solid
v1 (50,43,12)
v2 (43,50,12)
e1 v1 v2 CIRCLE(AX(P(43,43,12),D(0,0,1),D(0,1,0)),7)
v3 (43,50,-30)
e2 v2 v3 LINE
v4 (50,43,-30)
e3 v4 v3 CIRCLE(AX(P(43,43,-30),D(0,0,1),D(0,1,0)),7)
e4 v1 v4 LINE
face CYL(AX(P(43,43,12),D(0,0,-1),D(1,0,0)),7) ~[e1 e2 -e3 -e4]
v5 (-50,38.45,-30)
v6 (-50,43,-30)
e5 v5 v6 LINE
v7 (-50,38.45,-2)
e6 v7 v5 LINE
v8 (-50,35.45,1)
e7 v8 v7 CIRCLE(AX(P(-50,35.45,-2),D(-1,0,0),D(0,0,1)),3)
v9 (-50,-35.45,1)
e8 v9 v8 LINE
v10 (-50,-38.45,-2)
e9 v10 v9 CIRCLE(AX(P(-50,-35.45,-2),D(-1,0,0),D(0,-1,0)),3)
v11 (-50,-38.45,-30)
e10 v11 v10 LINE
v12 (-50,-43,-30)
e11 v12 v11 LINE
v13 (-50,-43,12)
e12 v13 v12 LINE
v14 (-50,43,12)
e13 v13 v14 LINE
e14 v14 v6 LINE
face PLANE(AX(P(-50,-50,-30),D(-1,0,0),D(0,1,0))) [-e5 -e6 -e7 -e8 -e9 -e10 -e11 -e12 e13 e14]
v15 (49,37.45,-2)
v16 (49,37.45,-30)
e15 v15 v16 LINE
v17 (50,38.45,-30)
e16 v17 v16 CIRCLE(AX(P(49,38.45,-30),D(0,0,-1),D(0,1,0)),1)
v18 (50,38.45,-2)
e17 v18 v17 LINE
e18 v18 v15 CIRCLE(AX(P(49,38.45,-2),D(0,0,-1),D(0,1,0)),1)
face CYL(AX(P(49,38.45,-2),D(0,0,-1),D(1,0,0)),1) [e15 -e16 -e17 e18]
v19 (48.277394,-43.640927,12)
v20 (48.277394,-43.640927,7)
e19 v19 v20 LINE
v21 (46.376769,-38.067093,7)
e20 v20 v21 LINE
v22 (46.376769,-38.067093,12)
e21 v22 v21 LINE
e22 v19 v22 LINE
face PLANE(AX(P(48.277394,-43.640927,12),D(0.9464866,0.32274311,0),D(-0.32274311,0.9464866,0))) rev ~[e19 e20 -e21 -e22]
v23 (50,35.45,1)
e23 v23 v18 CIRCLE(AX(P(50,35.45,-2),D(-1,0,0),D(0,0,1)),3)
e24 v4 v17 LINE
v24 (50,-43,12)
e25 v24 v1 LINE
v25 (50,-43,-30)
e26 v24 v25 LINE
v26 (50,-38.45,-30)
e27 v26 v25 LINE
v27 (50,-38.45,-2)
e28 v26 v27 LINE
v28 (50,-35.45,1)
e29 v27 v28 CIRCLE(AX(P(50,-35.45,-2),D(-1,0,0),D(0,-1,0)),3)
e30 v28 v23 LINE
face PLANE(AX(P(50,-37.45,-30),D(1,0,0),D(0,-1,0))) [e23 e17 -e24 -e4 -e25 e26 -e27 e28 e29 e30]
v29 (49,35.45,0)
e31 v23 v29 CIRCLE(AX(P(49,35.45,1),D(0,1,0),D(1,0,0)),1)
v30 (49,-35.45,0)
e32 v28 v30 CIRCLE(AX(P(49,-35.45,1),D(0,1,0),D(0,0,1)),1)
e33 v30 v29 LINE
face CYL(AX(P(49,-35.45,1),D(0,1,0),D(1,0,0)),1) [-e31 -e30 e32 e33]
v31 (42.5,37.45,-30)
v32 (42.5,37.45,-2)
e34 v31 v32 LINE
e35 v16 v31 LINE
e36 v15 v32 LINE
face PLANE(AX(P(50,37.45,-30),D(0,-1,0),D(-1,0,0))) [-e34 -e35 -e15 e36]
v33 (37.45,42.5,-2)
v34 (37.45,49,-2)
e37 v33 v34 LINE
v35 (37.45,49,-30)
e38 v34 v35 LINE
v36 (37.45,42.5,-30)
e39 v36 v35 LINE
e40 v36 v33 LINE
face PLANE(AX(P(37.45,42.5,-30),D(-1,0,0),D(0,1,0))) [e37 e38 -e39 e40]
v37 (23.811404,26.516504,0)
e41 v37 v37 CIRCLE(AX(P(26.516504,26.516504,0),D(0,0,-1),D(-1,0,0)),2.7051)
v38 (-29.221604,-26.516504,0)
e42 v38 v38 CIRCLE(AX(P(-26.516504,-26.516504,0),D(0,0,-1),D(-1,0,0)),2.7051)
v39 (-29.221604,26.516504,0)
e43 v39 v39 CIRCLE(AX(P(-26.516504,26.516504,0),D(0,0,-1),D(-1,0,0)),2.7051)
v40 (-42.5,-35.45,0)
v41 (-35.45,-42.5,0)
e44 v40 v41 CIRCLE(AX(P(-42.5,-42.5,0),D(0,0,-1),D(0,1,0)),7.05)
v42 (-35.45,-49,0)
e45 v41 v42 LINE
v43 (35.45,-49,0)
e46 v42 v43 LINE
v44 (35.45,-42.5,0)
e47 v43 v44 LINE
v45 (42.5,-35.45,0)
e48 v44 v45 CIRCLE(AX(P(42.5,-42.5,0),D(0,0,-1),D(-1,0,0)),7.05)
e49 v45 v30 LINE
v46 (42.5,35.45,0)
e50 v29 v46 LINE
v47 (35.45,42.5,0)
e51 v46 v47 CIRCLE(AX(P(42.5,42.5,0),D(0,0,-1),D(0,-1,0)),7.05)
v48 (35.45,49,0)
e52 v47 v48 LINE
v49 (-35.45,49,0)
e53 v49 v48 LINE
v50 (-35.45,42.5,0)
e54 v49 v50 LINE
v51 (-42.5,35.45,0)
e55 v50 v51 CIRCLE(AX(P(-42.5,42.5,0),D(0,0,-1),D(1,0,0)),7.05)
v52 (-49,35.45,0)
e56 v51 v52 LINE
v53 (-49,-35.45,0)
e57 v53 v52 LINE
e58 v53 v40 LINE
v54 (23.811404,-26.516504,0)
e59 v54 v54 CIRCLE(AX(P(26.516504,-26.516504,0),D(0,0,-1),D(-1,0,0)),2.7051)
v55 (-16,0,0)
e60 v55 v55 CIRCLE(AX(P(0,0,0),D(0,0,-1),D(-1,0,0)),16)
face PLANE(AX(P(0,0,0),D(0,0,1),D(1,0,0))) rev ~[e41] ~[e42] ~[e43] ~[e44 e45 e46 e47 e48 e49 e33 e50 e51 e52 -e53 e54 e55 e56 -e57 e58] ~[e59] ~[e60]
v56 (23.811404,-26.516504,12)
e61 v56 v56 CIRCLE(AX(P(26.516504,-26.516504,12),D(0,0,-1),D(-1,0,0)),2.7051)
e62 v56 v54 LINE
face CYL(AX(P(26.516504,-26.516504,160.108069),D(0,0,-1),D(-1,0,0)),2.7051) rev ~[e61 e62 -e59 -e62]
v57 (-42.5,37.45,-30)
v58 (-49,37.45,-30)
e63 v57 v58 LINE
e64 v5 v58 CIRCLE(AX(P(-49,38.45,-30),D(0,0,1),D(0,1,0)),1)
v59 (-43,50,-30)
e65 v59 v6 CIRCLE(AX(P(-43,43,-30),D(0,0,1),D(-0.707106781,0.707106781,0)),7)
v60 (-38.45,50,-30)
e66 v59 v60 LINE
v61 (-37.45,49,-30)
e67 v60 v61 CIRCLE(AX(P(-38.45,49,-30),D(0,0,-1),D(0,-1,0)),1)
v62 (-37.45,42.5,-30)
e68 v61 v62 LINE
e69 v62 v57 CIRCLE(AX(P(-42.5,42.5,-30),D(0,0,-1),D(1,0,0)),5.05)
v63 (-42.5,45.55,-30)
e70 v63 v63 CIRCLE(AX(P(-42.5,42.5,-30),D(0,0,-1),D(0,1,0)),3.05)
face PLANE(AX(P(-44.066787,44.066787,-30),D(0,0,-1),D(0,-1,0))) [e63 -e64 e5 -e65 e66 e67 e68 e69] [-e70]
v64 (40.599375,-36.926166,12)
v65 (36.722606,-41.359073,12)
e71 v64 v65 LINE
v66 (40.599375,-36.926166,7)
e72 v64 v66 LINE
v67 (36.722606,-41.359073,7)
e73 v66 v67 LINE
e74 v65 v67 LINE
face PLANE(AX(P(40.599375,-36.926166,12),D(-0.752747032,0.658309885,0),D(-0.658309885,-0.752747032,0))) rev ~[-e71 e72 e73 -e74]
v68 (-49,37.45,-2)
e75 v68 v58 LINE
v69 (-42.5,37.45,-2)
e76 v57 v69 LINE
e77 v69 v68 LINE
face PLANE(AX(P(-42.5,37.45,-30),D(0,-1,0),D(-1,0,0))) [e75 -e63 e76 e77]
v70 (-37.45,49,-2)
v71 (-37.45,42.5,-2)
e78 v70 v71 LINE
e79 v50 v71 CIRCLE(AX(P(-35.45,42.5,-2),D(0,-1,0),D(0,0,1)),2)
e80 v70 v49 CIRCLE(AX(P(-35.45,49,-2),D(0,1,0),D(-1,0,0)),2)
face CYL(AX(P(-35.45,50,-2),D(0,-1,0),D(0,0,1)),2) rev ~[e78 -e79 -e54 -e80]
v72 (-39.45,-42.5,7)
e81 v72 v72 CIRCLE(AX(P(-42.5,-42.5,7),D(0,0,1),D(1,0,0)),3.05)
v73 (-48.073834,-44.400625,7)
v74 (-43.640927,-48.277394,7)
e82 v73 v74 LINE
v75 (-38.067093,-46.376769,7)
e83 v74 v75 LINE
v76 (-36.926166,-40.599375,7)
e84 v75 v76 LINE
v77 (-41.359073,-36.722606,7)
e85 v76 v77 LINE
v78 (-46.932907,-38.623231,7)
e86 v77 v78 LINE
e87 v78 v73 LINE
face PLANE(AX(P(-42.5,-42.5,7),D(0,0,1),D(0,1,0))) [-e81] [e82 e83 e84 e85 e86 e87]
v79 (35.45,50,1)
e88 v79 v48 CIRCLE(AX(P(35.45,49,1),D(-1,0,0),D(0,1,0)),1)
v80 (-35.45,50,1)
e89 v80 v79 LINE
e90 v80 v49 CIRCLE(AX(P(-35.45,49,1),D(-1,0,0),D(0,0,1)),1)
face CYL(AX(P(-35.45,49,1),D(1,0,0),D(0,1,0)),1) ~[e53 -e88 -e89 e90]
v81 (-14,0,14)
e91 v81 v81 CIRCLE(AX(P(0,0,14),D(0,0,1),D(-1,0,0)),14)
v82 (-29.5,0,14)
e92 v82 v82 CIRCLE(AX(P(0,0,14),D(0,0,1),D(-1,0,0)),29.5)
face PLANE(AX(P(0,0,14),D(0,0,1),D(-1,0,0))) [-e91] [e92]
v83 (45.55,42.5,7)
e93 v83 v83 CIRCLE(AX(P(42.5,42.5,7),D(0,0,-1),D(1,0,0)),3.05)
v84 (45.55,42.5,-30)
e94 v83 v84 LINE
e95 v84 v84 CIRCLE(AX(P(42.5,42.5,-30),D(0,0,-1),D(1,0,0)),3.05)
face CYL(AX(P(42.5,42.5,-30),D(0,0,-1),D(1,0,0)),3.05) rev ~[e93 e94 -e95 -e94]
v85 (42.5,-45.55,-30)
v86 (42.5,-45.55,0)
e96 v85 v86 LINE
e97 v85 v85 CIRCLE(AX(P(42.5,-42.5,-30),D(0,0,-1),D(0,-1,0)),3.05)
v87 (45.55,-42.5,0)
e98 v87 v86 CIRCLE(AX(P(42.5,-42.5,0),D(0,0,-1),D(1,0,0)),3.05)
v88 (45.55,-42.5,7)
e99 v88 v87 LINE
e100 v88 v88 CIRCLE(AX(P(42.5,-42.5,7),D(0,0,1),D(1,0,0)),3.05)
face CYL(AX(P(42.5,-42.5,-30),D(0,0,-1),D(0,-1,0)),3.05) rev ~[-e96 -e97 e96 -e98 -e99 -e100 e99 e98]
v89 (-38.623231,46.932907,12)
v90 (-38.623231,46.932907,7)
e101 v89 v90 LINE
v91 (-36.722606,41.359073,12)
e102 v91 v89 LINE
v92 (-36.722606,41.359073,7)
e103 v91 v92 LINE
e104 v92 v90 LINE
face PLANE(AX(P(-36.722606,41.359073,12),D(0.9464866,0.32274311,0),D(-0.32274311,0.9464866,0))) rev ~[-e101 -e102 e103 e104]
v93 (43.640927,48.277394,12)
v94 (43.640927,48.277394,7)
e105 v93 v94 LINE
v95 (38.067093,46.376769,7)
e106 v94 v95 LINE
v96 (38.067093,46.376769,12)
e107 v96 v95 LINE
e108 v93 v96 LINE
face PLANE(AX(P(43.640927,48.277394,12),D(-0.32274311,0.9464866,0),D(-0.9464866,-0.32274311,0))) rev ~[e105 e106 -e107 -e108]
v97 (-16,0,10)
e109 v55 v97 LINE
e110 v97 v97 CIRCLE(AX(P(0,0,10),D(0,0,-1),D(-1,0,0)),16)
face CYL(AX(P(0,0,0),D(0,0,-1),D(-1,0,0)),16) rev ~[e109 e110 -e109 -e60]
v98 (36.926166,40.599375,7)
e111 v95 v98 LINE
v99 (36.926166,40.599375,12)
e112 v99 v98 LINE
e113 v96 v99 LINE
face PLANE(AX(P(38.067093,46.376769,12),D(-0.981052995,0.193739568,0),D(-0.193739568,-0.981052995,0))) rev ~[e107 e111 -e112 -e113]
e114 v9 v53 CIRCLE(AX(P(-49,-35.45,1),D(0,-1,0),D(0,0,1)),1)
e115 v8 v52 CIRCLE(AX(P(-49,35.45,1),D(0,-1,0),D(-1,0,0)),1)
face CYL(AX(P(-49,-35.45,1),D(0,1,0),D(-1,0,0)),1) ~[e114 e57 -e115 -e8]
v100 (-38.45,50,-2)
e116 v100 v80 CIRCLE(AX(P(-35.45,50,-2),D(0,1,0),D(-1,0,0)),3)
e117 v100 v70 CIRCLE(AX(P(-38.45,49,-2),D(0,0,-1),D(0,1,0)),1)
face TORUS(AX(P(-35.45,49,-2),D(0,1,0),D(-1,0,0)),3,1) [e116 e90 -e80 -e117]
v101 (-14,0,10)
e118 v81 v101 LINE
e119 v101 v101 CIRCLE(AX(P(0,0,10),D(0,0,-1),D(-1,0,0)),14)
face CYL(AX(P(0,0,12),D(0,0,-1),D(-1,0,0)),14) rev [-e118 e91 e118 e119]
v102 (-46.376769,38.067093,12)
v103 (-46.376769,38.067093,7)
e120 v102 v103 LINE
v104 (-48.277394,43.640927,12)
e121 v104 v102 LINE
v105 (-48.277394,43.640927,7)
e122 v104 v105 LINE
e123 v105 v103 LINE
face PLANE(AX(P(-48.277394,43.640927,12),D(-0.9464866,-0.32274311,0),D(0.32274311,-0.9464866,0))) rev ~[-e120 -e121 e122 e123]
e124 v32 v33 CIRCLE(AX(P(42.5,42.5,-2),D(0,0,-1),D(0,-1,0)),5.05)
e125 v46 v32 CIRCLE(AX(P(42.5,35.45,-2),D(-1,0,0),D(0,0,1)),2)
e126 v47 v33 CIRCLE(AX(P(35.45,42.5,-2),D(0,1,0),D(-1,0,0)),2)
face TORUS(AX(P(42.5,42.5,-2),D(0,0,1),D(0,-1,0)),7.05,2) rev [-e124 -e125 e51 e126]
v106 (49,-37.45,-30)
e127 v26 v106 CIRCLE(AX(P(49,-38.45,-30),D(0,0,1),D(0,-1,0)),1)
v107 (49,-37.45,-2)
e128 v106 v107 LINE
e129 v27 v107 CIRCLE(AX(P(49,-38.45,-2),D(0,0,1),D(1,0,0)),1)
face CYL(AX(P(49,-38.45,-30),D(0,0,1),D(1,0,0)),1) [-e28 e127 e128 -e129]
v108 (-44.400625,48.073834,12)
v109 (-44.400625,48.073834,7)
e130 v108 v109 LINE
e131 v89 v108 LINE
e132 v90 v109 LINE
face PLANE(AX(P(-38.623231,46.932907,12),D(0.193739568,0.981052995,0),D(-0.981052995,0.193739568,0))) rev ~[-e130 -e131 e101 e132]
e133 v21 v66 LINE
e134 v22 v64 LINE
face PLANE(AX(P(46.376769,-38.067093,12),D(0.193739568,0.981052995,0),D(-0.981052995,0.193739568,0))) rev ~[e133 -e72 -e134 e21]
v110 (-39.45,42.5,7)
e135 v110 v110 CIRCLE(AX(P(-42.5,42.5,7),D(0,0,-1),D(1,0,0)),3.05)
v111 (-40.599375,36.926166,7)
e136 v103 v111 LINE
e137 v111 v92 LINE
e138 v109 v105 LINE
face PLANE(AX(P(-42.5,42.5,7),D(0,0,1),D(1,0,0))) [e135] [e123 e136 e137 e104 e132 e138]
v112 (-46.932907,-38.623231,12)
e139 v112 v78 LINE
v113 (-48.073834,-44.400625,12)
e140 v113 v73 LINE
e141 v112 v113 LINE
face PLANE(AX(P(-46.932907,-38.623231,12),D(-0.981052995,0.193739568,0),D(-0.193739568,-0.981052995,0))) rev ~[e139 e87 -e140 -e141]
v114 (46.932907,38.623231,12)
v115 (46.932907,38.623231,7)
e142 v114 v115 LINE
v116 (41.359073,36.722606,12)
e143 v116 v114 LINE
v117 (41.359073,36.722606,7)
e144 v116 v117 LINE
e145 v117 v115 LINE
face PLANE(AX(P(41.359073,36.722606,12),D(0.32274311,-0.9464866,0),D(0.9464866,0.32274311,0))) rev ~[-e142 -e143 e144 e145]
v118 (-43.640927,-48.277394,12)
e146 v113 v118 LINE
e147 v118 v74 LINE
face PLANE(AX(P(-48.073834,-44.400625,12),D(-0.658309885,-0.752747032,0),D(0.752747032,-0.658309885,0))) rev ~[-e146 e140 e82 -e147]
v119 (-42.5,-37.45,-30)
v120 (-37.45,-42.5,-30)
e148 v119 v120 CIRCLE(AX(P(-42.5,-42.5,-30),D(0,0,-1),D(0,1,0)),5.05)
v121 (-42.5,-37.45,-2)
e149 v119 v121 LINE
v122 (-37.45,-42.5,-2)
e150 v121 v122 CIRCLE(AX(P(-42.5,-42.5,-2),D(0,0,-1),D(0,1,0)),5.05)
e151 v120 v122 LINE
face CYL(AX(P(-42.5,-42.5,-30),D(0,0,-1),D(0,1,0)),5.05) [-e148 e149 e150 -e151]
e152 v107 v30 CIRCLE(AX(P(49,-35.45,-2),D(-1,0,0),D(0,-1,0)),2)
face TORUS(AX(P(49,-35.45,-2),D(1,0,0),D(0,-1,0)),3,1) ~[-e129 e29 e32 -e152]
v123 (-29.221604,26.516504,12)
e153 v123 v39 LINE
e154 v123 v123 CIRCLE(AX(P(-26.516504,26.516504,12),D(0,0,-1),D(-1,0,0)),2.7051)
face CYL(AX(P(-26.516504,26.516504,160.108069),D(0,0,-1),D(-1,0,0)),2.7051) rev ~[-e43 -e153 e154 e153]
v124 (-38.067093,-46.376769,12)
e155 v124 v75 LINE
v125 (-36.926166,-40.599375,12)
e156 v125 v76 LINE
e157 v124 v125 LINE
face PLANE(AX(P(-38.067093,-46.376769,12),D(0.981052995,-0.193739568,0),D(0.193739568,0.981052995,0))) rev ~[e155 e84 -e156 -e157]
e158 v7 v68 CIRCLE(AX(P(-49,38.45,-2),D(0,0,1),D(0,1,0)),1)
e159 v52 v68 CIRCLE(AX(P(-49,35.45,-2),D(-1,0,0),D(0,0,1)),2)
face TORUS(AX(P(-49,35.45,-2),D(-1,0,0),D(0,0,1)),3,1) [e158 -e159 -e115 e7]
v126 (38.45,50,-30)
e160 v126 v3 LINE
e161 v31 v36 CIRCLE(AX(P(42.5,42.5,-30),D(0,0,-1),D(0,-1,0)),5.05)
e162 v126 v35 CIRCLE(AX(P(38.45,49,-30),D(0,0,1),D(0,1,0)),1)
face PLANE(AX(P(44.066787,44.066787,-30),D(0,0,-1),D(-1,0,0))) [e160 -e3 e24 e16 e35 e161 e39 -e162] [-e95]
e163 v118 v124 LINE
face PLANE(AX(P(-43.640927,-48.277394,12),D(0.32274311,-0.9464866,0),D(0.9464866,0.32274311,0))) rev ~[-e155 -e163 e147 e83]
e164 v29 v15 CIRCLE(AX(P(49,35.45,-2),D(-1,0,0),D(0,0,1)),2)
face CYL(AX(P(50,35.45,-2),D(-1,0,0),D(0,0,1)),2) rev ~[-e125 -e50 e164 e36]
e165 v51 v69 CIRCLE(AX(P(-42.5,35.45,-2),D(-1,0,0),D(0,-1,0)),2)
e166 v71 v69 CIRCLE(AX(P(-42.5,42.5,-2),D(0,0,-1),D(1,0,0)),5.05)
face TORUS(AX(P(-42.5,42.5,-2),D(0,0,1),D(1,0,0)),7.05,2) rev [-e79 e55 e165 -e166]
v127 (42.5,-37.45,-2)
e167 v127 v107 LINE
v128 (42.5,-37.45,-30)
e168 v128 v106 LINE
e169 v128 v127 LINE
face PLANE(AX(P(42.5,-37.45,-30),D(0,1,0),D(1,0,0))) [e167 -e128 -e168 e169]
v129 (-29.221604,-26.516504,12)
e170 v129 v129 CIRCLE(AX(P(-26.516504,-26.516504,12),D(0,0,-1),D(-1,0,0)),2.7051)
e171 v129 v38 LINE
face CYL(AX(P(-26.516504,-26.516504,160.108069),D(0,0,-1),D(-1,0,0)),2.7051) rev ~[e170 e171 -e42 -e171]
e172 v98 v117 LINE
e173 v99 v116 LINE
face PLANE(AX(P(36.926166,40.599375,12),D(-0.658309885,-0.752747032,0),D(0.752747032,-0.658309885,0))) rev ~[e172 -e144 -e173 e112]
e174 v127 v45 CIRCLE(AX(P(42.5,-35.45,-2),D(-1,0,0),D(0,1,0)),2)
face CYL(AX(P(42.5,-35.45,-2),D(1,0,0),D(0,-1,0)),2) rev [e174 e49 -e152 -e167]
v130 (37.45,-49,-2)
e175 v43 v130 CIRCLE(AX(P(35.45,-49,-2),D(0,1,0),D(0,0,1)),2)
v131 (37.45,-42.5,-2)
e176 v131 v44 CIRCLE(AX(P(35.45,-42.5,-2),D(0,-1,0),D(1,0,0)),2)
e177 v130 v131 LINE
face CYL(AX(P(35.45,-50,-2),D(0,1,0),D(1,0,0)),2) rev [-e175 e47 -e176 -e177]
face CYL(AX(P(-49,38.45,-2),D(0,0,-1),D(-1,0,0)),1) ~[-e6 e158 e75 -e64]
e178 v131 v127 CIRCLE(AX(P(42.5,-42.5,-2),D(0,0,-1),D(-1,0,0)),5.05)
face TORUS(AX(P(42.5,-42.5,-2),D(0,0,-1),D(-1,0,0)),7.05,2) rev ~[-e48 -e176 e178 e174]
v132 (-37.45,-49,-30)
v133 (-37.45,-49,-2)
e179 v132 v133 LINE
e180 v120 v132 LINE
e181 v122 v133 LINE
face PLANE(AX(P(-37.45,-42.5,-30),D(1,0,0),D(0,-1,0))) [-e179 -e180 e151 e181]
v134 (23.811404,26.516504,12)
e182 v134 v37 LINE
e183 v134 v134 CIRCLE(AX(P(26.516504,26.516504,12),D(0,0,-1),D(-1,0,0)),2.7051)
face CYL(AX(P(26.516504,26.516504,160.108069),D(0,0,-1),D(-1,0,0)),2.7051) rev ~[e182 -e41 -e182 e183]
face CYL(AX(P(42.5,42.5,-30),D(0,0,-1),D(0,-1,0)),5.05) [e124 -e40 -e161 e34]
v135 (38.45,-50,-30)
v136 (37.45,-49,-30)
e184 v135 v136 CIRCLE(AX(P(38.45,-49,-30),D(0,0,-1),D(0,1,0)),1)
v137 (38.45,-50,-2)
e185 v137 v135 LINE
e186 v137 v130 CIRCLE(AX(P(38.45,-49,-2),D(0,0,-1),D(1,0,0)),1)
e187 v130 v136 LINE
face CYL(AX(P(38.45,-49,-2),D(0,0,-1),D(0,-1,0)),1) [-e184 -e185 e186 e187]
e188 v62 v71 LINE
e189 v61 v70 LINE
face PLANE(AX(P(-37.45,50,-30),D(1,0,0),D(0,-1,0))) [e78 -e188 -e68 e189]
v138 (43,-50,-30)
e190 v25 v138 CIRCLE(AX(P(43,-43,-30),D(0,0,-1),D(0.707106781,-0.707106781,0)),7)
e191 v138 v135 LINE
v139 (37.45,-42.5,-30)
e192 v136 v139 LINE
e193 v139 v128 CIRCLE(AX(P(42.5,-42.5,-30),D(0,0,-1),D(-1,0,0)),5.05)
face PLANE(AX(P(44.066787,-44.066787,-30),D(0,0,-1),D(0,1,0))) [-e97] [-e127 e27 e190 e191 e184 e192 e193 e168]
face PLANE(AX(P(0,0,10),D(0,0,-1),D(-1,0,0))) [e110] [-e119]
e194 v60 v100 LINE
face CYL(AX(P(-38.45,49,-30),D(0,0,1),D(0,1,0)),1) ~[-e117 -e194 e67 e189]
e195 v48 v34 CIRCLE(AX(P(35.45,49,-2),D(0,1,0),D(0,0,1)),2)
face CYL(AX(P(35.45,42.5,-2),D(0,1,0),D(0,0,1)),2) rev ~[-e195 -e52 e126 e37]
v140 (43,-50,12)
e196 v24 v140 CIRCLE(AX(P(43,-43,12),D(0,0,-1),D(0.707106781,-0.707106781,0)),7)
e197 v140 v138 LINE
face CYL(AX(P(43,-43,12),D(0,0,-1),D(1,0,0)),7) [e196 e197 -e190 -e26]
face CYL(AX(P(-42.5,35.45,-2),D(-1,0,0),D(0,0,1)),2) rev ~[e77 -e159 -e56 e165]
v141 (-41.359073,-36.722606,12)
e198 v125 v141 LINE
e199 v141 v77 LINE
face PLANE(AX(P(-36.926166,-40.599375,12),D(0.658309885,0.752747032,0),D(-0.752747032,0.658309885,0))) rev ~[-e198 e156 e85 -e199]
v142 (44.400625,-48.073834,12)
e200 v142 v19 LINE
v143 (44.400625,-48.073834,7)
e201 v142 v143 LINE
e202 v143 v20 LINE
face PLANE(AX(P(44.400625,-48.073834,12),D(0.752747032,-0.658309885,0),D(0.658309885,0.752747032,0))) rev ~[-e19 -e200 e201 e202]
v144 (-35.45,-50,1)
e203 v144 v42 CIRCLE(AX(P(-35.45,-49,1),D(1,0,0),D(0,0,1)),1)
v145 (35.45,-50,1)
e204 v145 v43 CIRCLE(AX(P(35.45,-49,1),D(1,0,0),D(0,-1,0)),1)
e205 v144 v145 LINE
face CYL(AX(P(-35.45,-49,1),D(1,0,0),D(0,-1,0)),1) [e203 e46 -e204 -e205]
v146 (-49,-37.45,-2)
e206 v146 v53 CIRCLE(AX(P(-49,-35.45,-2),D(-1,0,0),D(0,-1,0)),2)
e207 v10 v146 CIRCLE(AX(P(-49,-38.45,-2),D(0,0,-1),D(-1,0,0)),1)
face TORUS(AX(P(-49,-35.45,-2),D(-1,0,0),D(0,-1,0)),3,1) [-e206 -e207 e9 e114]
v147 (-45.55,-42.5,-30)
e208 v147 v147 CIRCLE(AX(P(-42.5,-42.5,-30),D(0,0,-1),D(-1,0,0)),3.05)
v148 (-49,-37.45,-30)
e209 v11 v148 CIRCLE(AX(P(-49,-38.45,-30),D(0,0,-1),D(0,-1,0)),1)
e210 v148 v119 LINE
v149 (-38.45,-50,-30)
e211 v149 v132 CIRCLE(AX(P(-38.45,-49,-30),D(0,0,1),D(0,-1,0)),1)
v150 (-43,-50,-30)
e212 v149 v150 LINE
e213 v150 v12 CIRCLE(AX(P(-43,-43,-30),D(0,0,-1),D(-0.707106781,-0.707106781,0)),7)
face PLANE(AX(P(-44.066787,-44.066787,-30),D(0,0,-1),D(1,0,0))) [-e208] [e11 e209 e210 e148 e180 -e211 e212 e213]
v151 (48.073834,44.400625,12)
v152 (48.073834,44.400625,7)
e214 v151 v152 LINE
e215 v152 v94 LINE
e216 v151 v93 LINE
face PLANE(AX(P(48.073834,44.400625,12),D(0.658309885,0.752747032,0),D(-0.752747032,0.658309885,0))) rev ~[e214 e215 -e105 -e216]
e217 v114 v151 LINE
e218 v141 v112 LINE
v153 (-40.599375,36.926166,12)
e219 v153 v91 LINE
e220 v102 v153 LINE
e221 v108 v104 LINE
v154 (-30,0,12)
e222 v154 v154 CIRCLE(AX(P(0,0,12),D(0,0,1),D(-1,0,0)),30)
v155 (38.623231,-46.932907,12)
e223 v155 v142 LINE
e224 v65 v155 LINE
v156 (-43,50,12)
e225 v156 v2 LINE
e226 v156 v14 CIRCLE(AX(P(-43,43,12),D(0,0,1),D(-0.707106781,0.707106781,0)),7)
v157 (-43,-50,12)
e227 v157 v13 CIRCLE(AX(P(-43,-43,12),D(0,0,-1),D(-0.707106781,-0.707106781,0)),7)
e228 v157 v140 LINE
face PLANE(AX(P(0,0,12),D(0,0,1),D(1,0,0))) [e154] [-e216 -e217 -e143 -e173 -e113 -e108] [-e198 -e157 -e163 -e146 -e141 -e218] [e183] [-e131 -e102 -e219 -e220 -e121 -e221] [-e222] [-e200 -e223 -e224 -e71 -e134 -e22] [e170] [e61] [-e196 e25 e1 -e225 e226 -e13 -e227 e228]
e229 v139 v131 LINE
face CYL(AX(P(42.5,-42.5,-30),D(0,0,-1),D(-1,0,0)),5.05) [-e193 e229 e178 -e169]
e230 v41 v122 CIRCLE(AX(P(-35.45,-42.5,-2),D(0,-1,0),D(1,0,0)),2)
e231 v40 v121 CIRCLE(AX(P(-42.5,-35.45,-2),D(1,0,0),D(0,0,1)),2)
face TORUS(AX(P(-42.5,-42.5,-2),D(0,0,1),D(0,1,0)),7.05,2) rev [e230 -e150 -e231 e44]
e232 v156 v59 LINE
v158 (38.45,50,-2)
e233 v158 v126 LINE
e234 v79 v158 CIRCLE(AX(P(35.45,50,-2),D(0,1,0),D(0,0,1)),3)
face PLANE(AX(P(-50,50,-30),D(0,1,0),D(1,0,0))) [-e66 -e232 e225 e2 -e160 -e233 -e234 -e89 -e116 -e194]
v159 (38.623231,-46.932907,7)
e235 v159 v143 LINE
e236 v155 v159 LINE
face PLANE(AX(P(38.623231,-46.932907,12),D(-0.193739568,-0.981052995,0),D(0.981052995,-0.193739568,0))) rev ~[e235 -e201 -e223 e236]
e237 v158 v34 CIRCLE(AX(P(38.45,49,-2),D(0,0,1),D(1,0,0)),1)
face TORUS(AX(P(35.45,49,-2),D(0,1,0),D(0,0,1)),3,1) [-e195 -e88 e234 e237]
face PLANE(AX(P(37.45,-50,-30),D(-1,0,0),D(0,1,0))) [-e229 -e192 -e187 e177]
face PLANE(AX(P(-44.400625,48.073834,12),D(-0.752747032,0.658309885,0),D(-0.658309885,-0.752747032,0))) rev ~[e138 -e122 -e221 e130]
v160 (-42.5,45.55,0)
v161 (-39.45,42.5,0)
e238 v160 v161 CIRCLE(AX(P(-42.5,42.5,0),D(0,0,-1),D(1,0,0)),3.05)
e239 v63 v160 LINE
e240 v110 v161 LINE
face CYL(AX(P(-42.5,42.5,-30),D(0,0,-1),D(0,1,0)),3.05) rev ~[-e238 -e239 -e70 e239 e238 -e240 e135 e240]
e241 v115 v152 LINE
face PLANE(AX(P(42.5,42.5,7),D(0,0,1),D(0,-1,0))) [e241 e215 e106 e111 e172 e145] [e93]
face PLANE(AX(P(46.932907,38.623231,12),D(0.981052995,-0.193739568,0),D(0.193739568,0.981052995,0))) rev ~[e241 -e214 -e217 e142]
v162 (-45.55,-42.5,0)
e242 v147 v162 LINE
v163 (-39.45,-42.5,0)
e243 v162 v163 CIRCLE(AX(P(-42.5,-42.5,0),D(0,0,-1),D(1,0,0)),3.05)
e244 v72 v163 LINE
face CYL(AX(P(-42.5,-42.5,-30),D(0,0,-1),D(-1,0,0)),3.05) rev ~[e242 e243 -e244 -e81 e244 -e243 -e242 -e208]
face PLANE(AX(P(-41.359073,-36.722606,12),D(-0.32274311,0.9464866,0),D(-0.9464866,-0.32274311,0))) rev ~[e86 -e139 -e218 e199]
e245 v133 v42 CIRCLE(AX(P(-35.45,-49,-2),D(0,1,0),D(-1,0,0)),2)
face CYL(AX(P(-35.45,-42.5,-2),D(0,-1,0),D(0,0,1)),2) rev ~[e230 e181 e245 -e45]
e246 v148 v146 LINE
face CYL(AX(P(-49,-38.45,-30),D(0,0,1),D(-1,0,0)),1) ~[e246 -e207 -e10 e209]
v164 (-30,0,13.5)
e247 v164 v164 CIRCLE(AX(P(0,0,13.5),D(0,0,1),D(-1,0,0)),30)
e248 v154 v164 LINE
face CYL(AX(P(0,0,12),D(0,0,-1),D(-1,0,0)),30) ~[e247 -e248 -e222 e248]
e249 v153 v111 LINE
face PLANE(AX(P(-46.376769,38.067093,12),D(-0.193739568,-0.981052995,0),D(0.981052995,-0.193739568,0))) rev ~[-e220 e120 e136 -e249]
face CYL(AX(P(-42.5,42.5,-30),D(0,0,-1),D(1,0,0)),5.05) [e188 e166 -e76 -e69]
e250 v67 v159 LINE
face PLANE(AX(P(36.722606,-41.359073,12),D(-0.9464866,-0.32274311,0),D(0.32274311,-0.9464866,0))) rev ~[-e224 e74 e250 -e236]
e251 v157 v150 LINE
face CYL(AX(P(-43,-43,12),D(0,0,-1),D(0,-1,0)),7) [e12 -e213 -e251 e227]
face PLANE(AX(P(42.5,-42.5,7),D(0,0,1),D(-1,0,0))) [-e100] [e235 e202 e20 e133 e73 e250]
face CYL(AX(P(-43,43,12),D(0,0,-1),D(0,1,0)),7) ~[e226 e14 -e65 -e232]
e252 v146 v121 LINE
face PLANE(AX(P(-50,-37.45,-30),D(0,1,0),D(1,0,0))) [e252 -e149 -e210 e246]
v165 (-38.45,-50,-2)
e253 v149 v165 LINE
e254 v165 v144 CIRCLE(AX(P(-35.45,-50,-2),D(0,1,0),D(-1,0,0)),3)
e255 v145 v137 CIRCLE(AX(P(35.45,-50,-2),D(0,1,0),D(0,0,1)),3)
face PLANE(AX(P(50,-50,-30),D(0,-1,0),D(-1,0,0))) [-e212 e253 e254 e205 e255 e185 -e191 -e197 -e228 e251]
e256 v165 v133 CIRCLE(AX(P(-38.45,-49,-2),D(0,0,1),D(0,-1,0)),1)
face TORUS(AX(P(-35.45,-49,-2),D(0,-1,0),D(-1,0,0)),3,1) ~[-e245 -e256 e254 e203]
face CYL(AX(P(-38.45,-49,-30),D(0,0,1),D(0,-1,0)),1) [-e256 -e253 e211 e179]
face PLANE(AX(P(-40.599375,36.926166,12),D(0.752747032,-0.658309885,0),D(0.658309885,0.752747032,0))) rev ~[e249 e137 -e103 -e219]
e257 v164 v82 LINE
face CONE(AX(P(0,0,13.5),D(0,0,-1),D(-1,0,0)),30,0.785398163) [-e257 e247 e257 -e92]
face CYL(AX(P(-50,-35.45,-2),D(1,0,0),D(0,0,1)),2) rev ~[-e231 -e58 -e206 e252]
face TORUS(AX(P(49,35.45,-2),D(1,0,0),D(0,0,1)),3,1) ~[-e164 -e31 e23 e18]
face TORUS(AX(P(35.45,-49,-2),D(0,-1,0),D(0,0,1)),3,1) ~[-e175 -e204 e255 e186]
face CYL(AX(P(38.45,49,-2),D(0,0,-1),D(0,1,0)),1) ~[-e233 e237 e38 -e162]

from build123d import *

# Parameters (mm, degrees)
SKETCH2_W                  = 100
SKETCH2_H                  = 100
BOSS_EXTRUDE1_DEPTH        = 12
SKETCH3_R                  = 16
CUT_EXTRUDE1_DEPTH         = 10
M6_CLEARANCE_HOLE1_D       = 6.1
BOSS_EXTRUDE2_START        = 30
SKETCH17_R                 = 3.05
BOSS_EXTRUDE2_DEPTH        = 30
CIRPATTERN1_COUNT          = 4
SKETCH18_R                 = 14
CUT_EXTRUDE3_DEPTH         = 77.811457479
FILLET1_R                  = 2
FILLET2_R                  = 7
CUT_EXTRUDE6_DEPTH         = 5
CIRPATTERN2_COUNT          = 4
SKETCH25_R                 = 30
SKETCH25_R_2               = 14
BOSS_EXTRUDE3_DEPTH        = 2
F_3_0_213_DIAMETER_HOLE1_D = 5.4102
CHAMFER1_SIZE              = 0.5
FILLET3_R                  = 1


with BuildPart() as part:
    # Sketch2 → Boss-Extrude1 (new body)
    with BuildSketch(Plane.XY):
        Rectangle(SKETCH2_W, SKETCH2_H)
    extrude(amount=BOSS_EXTRUDE1_DEPTH)

    # Sketch3 → Cut-Extrude1 (cut)
    with BuildSketch(Plane(origin=(0, 0, 0), x_dir=(-1, 0, 0), z_dir=(0, 0, -1))):
        Circle(SKETCH3_R)
    extrude(amount=-CUT_EXTRUDE1_DEPTH, mode=Mode.SUBTRACT)

    # M6 Clearance Hole1 (through all)
    with Locations(Plane(origin=(0, 0, 12), x_dir=(-1, 0, 0), z_dir=(0, 0, 1))):
        with Locations((42.5, -42.5), (-42.5, 42.5), (-42.5, -42.5), (42.5, 42.5)):
            Hole(M6_CLEARANCE_HOLE1_D / 2)

    # Sketch17 → Boss-Extrude2 (add)
    with BuildSketch(Plane(origin=(0, 0, 0), x_dir=(-1, 0, 0), z_dir=(0, 0, -1)).offset(BOSS_EXTRUDE2_START)):
        with BuildLine():
            Line((-37.45, 42.5), (-37.45, 50))
            Line((-37.45, 50), (-50, 50))
            Line((-50, 50), (-50, 37.45))
            Line((-50, 37.45), (-42.5, 37.45))
            ThreePointArc((-42.5, 37.45), (-38.929110755, 38.929110755), (-37.45, 42.5))
        make_face()
        with Locations(Location((-42.5, 42.5, 0), (0, 0, 180))):
            Circle(SKETCH17_R, mode=Mode.SUBTRACT)
    boss_extrude2 = extrude(amount=-BOSS_EXTRUDE2_DEPTH)

    # CirPattern1: Boss-Extrude2 ×4 about axis
    cirpattern1_axis = Axis((0, 0, 0), (0, 0, 1))
    for i in range(1, CIRPATTERN1_COUNT):
        add(boss_extrude2.rotate(cirpattern1_axis, i * 360 / CIRPATTERN1_COUNT))

    # Sketch18 → Cut-Extrude3 (cut, through all)
    with BuildSketch(Plane(origin=(0, 0, 0), x_dir=(-1, 0, 0), z_dir=(0, 0, -1))):
        Circle(SKETCH18_R)
    extrude(amount=-CUT_EXTRUDE3_DEPTH, mode=Mode.SUBTRACT)

    # Fillet1
    fillet1_edges = [part.edges().sort_by_distance(p)[0] for p in [
        (38.929110755, 38.929110755, 0),
        (37.45, 46.25, 0),
        (46.25, 37.45, 0),
        (-38.929110755, 38.929110755, 0),
        (-46.25, 37.45, 0),
        (-37.45, 46.25, 0),
        (-38.929110755, -38.929110755, 0),
        (-37.45, -46.25, 0),
        (-46.25, -37.45, 0),
        (38.929110755, -38.929110755, 0),
        (46.25, -37.45, 0),
        (37.45, -46.25, 0),
    ]]
    fillet(fillet1_edges, radius=FILLET1_R)

    # Fillet2
    fillet2_edges = [part.edges().sort_by_distance(p)[0] for p in [
        (50, -50, -9),
        (-50, -50, -9),
        (-50, 50, -9),
        (50, 50, -9),
    ]]
    fillet(fillet2_edges, radius=FILLET2_R)

    # Sketch24 → Cut-Extrude6 (cut)
    with BuildSketch(Plane.XY.offset(12)):
        Polygon((-44.400625379, 48.073833795), (-48.277394352, 43.640927036), (-46.376768973, 38.067093242), (-40.599374621, 36.926166205), (-36.722605648, 41.359072964), (-38.623231027, 46.932906758), align=None)
    cut_extrude6 = extrude(amount=-CUT_EXTRUDE6_DEPTH, mode=Mode.SUBTRACT)

    # CirPattern2: Cut-Extrude6 ×4 about axis
    cirpattern2_axis = Axis((0, 0, 0), (0, 0, 1))
    for i in range(1, CIRPATTERN2_COUNT):
        add(cut_extrude6.rotate(cirpattern2_axis, i * 360 / CIRPATTERN2_COUNT), mode=Mode.SUBTRACT)

    # Sketch25 → Boss-Extrude3 (add)
    with BuildSketch(Plane.XY.offset(12)):
        with Locations(Location((0, 0, 0), (0, 0, 180))):
            Circle(SKETCH25_R)
        with Locations(Location((0, 0, 0), (0, 0, 180))):
            Circle(SKETCH25_R_2, mode=Mode.SUBTRACT)
    extrude(amount=BOSS_EXTRUDE3_DEPTH)

    # #3 (0.213) Diameter Hole1 (through all)
    with Locations(Plane(origin=(26.516504294, 26.516504294, 12), x_dir=(1, 0, 0), z_dir=(0, 0, 1))):
        with Locations((0, 0), (-53.033008588, 0), (-53.033008588, -53.033008588), (0, -53.033008588)):
            Hole(F_3_0_213_DIAMETER_HOLE1_D / 2)

    # Chamfer1
    chamfer1_edges = [part.edges().sort_by_distance(p)[0] for p in [
        (30, 0, 14),
    ]]
    chamfer(chamfer1_edges, length=CHAMFER1_SIZE)

    # Fillet3
    fillet3_edges = [part.edges().sort_by_distance(p)[0] for p in [
        (50, 0, 0),
        (0, -50, 0),
        (-50, 0, 0),
        (0, 50, 0),
        (-36.864213562, 50, -0.585786438),
        (-50, 36.864213562, -0.585786438),
        (-50, -36.864213562, -0.585786438),
        (-36.864213562, -50, -0.585786438),
        (36.864213562, -50, -0.585786438),
        (50, -36.864213562, -0.585786438),
        (50, 36.864213562, -0.585786438),
        (36.864213562, 50, -0.585786438),
        (37.45, 50, -16),
        (50, 37.45, -16),
        (-50, 37.45, -16),
        (-37.45, 50, -16),
        (-37.45, -50, -16),
        (-50, -37.45, -16),
        (50, -37.45, -16),
        (37.45, -50, -16),
    ]]
    fillet(fillet3_edges, radius=FILLET3_R)


solid = part.part
